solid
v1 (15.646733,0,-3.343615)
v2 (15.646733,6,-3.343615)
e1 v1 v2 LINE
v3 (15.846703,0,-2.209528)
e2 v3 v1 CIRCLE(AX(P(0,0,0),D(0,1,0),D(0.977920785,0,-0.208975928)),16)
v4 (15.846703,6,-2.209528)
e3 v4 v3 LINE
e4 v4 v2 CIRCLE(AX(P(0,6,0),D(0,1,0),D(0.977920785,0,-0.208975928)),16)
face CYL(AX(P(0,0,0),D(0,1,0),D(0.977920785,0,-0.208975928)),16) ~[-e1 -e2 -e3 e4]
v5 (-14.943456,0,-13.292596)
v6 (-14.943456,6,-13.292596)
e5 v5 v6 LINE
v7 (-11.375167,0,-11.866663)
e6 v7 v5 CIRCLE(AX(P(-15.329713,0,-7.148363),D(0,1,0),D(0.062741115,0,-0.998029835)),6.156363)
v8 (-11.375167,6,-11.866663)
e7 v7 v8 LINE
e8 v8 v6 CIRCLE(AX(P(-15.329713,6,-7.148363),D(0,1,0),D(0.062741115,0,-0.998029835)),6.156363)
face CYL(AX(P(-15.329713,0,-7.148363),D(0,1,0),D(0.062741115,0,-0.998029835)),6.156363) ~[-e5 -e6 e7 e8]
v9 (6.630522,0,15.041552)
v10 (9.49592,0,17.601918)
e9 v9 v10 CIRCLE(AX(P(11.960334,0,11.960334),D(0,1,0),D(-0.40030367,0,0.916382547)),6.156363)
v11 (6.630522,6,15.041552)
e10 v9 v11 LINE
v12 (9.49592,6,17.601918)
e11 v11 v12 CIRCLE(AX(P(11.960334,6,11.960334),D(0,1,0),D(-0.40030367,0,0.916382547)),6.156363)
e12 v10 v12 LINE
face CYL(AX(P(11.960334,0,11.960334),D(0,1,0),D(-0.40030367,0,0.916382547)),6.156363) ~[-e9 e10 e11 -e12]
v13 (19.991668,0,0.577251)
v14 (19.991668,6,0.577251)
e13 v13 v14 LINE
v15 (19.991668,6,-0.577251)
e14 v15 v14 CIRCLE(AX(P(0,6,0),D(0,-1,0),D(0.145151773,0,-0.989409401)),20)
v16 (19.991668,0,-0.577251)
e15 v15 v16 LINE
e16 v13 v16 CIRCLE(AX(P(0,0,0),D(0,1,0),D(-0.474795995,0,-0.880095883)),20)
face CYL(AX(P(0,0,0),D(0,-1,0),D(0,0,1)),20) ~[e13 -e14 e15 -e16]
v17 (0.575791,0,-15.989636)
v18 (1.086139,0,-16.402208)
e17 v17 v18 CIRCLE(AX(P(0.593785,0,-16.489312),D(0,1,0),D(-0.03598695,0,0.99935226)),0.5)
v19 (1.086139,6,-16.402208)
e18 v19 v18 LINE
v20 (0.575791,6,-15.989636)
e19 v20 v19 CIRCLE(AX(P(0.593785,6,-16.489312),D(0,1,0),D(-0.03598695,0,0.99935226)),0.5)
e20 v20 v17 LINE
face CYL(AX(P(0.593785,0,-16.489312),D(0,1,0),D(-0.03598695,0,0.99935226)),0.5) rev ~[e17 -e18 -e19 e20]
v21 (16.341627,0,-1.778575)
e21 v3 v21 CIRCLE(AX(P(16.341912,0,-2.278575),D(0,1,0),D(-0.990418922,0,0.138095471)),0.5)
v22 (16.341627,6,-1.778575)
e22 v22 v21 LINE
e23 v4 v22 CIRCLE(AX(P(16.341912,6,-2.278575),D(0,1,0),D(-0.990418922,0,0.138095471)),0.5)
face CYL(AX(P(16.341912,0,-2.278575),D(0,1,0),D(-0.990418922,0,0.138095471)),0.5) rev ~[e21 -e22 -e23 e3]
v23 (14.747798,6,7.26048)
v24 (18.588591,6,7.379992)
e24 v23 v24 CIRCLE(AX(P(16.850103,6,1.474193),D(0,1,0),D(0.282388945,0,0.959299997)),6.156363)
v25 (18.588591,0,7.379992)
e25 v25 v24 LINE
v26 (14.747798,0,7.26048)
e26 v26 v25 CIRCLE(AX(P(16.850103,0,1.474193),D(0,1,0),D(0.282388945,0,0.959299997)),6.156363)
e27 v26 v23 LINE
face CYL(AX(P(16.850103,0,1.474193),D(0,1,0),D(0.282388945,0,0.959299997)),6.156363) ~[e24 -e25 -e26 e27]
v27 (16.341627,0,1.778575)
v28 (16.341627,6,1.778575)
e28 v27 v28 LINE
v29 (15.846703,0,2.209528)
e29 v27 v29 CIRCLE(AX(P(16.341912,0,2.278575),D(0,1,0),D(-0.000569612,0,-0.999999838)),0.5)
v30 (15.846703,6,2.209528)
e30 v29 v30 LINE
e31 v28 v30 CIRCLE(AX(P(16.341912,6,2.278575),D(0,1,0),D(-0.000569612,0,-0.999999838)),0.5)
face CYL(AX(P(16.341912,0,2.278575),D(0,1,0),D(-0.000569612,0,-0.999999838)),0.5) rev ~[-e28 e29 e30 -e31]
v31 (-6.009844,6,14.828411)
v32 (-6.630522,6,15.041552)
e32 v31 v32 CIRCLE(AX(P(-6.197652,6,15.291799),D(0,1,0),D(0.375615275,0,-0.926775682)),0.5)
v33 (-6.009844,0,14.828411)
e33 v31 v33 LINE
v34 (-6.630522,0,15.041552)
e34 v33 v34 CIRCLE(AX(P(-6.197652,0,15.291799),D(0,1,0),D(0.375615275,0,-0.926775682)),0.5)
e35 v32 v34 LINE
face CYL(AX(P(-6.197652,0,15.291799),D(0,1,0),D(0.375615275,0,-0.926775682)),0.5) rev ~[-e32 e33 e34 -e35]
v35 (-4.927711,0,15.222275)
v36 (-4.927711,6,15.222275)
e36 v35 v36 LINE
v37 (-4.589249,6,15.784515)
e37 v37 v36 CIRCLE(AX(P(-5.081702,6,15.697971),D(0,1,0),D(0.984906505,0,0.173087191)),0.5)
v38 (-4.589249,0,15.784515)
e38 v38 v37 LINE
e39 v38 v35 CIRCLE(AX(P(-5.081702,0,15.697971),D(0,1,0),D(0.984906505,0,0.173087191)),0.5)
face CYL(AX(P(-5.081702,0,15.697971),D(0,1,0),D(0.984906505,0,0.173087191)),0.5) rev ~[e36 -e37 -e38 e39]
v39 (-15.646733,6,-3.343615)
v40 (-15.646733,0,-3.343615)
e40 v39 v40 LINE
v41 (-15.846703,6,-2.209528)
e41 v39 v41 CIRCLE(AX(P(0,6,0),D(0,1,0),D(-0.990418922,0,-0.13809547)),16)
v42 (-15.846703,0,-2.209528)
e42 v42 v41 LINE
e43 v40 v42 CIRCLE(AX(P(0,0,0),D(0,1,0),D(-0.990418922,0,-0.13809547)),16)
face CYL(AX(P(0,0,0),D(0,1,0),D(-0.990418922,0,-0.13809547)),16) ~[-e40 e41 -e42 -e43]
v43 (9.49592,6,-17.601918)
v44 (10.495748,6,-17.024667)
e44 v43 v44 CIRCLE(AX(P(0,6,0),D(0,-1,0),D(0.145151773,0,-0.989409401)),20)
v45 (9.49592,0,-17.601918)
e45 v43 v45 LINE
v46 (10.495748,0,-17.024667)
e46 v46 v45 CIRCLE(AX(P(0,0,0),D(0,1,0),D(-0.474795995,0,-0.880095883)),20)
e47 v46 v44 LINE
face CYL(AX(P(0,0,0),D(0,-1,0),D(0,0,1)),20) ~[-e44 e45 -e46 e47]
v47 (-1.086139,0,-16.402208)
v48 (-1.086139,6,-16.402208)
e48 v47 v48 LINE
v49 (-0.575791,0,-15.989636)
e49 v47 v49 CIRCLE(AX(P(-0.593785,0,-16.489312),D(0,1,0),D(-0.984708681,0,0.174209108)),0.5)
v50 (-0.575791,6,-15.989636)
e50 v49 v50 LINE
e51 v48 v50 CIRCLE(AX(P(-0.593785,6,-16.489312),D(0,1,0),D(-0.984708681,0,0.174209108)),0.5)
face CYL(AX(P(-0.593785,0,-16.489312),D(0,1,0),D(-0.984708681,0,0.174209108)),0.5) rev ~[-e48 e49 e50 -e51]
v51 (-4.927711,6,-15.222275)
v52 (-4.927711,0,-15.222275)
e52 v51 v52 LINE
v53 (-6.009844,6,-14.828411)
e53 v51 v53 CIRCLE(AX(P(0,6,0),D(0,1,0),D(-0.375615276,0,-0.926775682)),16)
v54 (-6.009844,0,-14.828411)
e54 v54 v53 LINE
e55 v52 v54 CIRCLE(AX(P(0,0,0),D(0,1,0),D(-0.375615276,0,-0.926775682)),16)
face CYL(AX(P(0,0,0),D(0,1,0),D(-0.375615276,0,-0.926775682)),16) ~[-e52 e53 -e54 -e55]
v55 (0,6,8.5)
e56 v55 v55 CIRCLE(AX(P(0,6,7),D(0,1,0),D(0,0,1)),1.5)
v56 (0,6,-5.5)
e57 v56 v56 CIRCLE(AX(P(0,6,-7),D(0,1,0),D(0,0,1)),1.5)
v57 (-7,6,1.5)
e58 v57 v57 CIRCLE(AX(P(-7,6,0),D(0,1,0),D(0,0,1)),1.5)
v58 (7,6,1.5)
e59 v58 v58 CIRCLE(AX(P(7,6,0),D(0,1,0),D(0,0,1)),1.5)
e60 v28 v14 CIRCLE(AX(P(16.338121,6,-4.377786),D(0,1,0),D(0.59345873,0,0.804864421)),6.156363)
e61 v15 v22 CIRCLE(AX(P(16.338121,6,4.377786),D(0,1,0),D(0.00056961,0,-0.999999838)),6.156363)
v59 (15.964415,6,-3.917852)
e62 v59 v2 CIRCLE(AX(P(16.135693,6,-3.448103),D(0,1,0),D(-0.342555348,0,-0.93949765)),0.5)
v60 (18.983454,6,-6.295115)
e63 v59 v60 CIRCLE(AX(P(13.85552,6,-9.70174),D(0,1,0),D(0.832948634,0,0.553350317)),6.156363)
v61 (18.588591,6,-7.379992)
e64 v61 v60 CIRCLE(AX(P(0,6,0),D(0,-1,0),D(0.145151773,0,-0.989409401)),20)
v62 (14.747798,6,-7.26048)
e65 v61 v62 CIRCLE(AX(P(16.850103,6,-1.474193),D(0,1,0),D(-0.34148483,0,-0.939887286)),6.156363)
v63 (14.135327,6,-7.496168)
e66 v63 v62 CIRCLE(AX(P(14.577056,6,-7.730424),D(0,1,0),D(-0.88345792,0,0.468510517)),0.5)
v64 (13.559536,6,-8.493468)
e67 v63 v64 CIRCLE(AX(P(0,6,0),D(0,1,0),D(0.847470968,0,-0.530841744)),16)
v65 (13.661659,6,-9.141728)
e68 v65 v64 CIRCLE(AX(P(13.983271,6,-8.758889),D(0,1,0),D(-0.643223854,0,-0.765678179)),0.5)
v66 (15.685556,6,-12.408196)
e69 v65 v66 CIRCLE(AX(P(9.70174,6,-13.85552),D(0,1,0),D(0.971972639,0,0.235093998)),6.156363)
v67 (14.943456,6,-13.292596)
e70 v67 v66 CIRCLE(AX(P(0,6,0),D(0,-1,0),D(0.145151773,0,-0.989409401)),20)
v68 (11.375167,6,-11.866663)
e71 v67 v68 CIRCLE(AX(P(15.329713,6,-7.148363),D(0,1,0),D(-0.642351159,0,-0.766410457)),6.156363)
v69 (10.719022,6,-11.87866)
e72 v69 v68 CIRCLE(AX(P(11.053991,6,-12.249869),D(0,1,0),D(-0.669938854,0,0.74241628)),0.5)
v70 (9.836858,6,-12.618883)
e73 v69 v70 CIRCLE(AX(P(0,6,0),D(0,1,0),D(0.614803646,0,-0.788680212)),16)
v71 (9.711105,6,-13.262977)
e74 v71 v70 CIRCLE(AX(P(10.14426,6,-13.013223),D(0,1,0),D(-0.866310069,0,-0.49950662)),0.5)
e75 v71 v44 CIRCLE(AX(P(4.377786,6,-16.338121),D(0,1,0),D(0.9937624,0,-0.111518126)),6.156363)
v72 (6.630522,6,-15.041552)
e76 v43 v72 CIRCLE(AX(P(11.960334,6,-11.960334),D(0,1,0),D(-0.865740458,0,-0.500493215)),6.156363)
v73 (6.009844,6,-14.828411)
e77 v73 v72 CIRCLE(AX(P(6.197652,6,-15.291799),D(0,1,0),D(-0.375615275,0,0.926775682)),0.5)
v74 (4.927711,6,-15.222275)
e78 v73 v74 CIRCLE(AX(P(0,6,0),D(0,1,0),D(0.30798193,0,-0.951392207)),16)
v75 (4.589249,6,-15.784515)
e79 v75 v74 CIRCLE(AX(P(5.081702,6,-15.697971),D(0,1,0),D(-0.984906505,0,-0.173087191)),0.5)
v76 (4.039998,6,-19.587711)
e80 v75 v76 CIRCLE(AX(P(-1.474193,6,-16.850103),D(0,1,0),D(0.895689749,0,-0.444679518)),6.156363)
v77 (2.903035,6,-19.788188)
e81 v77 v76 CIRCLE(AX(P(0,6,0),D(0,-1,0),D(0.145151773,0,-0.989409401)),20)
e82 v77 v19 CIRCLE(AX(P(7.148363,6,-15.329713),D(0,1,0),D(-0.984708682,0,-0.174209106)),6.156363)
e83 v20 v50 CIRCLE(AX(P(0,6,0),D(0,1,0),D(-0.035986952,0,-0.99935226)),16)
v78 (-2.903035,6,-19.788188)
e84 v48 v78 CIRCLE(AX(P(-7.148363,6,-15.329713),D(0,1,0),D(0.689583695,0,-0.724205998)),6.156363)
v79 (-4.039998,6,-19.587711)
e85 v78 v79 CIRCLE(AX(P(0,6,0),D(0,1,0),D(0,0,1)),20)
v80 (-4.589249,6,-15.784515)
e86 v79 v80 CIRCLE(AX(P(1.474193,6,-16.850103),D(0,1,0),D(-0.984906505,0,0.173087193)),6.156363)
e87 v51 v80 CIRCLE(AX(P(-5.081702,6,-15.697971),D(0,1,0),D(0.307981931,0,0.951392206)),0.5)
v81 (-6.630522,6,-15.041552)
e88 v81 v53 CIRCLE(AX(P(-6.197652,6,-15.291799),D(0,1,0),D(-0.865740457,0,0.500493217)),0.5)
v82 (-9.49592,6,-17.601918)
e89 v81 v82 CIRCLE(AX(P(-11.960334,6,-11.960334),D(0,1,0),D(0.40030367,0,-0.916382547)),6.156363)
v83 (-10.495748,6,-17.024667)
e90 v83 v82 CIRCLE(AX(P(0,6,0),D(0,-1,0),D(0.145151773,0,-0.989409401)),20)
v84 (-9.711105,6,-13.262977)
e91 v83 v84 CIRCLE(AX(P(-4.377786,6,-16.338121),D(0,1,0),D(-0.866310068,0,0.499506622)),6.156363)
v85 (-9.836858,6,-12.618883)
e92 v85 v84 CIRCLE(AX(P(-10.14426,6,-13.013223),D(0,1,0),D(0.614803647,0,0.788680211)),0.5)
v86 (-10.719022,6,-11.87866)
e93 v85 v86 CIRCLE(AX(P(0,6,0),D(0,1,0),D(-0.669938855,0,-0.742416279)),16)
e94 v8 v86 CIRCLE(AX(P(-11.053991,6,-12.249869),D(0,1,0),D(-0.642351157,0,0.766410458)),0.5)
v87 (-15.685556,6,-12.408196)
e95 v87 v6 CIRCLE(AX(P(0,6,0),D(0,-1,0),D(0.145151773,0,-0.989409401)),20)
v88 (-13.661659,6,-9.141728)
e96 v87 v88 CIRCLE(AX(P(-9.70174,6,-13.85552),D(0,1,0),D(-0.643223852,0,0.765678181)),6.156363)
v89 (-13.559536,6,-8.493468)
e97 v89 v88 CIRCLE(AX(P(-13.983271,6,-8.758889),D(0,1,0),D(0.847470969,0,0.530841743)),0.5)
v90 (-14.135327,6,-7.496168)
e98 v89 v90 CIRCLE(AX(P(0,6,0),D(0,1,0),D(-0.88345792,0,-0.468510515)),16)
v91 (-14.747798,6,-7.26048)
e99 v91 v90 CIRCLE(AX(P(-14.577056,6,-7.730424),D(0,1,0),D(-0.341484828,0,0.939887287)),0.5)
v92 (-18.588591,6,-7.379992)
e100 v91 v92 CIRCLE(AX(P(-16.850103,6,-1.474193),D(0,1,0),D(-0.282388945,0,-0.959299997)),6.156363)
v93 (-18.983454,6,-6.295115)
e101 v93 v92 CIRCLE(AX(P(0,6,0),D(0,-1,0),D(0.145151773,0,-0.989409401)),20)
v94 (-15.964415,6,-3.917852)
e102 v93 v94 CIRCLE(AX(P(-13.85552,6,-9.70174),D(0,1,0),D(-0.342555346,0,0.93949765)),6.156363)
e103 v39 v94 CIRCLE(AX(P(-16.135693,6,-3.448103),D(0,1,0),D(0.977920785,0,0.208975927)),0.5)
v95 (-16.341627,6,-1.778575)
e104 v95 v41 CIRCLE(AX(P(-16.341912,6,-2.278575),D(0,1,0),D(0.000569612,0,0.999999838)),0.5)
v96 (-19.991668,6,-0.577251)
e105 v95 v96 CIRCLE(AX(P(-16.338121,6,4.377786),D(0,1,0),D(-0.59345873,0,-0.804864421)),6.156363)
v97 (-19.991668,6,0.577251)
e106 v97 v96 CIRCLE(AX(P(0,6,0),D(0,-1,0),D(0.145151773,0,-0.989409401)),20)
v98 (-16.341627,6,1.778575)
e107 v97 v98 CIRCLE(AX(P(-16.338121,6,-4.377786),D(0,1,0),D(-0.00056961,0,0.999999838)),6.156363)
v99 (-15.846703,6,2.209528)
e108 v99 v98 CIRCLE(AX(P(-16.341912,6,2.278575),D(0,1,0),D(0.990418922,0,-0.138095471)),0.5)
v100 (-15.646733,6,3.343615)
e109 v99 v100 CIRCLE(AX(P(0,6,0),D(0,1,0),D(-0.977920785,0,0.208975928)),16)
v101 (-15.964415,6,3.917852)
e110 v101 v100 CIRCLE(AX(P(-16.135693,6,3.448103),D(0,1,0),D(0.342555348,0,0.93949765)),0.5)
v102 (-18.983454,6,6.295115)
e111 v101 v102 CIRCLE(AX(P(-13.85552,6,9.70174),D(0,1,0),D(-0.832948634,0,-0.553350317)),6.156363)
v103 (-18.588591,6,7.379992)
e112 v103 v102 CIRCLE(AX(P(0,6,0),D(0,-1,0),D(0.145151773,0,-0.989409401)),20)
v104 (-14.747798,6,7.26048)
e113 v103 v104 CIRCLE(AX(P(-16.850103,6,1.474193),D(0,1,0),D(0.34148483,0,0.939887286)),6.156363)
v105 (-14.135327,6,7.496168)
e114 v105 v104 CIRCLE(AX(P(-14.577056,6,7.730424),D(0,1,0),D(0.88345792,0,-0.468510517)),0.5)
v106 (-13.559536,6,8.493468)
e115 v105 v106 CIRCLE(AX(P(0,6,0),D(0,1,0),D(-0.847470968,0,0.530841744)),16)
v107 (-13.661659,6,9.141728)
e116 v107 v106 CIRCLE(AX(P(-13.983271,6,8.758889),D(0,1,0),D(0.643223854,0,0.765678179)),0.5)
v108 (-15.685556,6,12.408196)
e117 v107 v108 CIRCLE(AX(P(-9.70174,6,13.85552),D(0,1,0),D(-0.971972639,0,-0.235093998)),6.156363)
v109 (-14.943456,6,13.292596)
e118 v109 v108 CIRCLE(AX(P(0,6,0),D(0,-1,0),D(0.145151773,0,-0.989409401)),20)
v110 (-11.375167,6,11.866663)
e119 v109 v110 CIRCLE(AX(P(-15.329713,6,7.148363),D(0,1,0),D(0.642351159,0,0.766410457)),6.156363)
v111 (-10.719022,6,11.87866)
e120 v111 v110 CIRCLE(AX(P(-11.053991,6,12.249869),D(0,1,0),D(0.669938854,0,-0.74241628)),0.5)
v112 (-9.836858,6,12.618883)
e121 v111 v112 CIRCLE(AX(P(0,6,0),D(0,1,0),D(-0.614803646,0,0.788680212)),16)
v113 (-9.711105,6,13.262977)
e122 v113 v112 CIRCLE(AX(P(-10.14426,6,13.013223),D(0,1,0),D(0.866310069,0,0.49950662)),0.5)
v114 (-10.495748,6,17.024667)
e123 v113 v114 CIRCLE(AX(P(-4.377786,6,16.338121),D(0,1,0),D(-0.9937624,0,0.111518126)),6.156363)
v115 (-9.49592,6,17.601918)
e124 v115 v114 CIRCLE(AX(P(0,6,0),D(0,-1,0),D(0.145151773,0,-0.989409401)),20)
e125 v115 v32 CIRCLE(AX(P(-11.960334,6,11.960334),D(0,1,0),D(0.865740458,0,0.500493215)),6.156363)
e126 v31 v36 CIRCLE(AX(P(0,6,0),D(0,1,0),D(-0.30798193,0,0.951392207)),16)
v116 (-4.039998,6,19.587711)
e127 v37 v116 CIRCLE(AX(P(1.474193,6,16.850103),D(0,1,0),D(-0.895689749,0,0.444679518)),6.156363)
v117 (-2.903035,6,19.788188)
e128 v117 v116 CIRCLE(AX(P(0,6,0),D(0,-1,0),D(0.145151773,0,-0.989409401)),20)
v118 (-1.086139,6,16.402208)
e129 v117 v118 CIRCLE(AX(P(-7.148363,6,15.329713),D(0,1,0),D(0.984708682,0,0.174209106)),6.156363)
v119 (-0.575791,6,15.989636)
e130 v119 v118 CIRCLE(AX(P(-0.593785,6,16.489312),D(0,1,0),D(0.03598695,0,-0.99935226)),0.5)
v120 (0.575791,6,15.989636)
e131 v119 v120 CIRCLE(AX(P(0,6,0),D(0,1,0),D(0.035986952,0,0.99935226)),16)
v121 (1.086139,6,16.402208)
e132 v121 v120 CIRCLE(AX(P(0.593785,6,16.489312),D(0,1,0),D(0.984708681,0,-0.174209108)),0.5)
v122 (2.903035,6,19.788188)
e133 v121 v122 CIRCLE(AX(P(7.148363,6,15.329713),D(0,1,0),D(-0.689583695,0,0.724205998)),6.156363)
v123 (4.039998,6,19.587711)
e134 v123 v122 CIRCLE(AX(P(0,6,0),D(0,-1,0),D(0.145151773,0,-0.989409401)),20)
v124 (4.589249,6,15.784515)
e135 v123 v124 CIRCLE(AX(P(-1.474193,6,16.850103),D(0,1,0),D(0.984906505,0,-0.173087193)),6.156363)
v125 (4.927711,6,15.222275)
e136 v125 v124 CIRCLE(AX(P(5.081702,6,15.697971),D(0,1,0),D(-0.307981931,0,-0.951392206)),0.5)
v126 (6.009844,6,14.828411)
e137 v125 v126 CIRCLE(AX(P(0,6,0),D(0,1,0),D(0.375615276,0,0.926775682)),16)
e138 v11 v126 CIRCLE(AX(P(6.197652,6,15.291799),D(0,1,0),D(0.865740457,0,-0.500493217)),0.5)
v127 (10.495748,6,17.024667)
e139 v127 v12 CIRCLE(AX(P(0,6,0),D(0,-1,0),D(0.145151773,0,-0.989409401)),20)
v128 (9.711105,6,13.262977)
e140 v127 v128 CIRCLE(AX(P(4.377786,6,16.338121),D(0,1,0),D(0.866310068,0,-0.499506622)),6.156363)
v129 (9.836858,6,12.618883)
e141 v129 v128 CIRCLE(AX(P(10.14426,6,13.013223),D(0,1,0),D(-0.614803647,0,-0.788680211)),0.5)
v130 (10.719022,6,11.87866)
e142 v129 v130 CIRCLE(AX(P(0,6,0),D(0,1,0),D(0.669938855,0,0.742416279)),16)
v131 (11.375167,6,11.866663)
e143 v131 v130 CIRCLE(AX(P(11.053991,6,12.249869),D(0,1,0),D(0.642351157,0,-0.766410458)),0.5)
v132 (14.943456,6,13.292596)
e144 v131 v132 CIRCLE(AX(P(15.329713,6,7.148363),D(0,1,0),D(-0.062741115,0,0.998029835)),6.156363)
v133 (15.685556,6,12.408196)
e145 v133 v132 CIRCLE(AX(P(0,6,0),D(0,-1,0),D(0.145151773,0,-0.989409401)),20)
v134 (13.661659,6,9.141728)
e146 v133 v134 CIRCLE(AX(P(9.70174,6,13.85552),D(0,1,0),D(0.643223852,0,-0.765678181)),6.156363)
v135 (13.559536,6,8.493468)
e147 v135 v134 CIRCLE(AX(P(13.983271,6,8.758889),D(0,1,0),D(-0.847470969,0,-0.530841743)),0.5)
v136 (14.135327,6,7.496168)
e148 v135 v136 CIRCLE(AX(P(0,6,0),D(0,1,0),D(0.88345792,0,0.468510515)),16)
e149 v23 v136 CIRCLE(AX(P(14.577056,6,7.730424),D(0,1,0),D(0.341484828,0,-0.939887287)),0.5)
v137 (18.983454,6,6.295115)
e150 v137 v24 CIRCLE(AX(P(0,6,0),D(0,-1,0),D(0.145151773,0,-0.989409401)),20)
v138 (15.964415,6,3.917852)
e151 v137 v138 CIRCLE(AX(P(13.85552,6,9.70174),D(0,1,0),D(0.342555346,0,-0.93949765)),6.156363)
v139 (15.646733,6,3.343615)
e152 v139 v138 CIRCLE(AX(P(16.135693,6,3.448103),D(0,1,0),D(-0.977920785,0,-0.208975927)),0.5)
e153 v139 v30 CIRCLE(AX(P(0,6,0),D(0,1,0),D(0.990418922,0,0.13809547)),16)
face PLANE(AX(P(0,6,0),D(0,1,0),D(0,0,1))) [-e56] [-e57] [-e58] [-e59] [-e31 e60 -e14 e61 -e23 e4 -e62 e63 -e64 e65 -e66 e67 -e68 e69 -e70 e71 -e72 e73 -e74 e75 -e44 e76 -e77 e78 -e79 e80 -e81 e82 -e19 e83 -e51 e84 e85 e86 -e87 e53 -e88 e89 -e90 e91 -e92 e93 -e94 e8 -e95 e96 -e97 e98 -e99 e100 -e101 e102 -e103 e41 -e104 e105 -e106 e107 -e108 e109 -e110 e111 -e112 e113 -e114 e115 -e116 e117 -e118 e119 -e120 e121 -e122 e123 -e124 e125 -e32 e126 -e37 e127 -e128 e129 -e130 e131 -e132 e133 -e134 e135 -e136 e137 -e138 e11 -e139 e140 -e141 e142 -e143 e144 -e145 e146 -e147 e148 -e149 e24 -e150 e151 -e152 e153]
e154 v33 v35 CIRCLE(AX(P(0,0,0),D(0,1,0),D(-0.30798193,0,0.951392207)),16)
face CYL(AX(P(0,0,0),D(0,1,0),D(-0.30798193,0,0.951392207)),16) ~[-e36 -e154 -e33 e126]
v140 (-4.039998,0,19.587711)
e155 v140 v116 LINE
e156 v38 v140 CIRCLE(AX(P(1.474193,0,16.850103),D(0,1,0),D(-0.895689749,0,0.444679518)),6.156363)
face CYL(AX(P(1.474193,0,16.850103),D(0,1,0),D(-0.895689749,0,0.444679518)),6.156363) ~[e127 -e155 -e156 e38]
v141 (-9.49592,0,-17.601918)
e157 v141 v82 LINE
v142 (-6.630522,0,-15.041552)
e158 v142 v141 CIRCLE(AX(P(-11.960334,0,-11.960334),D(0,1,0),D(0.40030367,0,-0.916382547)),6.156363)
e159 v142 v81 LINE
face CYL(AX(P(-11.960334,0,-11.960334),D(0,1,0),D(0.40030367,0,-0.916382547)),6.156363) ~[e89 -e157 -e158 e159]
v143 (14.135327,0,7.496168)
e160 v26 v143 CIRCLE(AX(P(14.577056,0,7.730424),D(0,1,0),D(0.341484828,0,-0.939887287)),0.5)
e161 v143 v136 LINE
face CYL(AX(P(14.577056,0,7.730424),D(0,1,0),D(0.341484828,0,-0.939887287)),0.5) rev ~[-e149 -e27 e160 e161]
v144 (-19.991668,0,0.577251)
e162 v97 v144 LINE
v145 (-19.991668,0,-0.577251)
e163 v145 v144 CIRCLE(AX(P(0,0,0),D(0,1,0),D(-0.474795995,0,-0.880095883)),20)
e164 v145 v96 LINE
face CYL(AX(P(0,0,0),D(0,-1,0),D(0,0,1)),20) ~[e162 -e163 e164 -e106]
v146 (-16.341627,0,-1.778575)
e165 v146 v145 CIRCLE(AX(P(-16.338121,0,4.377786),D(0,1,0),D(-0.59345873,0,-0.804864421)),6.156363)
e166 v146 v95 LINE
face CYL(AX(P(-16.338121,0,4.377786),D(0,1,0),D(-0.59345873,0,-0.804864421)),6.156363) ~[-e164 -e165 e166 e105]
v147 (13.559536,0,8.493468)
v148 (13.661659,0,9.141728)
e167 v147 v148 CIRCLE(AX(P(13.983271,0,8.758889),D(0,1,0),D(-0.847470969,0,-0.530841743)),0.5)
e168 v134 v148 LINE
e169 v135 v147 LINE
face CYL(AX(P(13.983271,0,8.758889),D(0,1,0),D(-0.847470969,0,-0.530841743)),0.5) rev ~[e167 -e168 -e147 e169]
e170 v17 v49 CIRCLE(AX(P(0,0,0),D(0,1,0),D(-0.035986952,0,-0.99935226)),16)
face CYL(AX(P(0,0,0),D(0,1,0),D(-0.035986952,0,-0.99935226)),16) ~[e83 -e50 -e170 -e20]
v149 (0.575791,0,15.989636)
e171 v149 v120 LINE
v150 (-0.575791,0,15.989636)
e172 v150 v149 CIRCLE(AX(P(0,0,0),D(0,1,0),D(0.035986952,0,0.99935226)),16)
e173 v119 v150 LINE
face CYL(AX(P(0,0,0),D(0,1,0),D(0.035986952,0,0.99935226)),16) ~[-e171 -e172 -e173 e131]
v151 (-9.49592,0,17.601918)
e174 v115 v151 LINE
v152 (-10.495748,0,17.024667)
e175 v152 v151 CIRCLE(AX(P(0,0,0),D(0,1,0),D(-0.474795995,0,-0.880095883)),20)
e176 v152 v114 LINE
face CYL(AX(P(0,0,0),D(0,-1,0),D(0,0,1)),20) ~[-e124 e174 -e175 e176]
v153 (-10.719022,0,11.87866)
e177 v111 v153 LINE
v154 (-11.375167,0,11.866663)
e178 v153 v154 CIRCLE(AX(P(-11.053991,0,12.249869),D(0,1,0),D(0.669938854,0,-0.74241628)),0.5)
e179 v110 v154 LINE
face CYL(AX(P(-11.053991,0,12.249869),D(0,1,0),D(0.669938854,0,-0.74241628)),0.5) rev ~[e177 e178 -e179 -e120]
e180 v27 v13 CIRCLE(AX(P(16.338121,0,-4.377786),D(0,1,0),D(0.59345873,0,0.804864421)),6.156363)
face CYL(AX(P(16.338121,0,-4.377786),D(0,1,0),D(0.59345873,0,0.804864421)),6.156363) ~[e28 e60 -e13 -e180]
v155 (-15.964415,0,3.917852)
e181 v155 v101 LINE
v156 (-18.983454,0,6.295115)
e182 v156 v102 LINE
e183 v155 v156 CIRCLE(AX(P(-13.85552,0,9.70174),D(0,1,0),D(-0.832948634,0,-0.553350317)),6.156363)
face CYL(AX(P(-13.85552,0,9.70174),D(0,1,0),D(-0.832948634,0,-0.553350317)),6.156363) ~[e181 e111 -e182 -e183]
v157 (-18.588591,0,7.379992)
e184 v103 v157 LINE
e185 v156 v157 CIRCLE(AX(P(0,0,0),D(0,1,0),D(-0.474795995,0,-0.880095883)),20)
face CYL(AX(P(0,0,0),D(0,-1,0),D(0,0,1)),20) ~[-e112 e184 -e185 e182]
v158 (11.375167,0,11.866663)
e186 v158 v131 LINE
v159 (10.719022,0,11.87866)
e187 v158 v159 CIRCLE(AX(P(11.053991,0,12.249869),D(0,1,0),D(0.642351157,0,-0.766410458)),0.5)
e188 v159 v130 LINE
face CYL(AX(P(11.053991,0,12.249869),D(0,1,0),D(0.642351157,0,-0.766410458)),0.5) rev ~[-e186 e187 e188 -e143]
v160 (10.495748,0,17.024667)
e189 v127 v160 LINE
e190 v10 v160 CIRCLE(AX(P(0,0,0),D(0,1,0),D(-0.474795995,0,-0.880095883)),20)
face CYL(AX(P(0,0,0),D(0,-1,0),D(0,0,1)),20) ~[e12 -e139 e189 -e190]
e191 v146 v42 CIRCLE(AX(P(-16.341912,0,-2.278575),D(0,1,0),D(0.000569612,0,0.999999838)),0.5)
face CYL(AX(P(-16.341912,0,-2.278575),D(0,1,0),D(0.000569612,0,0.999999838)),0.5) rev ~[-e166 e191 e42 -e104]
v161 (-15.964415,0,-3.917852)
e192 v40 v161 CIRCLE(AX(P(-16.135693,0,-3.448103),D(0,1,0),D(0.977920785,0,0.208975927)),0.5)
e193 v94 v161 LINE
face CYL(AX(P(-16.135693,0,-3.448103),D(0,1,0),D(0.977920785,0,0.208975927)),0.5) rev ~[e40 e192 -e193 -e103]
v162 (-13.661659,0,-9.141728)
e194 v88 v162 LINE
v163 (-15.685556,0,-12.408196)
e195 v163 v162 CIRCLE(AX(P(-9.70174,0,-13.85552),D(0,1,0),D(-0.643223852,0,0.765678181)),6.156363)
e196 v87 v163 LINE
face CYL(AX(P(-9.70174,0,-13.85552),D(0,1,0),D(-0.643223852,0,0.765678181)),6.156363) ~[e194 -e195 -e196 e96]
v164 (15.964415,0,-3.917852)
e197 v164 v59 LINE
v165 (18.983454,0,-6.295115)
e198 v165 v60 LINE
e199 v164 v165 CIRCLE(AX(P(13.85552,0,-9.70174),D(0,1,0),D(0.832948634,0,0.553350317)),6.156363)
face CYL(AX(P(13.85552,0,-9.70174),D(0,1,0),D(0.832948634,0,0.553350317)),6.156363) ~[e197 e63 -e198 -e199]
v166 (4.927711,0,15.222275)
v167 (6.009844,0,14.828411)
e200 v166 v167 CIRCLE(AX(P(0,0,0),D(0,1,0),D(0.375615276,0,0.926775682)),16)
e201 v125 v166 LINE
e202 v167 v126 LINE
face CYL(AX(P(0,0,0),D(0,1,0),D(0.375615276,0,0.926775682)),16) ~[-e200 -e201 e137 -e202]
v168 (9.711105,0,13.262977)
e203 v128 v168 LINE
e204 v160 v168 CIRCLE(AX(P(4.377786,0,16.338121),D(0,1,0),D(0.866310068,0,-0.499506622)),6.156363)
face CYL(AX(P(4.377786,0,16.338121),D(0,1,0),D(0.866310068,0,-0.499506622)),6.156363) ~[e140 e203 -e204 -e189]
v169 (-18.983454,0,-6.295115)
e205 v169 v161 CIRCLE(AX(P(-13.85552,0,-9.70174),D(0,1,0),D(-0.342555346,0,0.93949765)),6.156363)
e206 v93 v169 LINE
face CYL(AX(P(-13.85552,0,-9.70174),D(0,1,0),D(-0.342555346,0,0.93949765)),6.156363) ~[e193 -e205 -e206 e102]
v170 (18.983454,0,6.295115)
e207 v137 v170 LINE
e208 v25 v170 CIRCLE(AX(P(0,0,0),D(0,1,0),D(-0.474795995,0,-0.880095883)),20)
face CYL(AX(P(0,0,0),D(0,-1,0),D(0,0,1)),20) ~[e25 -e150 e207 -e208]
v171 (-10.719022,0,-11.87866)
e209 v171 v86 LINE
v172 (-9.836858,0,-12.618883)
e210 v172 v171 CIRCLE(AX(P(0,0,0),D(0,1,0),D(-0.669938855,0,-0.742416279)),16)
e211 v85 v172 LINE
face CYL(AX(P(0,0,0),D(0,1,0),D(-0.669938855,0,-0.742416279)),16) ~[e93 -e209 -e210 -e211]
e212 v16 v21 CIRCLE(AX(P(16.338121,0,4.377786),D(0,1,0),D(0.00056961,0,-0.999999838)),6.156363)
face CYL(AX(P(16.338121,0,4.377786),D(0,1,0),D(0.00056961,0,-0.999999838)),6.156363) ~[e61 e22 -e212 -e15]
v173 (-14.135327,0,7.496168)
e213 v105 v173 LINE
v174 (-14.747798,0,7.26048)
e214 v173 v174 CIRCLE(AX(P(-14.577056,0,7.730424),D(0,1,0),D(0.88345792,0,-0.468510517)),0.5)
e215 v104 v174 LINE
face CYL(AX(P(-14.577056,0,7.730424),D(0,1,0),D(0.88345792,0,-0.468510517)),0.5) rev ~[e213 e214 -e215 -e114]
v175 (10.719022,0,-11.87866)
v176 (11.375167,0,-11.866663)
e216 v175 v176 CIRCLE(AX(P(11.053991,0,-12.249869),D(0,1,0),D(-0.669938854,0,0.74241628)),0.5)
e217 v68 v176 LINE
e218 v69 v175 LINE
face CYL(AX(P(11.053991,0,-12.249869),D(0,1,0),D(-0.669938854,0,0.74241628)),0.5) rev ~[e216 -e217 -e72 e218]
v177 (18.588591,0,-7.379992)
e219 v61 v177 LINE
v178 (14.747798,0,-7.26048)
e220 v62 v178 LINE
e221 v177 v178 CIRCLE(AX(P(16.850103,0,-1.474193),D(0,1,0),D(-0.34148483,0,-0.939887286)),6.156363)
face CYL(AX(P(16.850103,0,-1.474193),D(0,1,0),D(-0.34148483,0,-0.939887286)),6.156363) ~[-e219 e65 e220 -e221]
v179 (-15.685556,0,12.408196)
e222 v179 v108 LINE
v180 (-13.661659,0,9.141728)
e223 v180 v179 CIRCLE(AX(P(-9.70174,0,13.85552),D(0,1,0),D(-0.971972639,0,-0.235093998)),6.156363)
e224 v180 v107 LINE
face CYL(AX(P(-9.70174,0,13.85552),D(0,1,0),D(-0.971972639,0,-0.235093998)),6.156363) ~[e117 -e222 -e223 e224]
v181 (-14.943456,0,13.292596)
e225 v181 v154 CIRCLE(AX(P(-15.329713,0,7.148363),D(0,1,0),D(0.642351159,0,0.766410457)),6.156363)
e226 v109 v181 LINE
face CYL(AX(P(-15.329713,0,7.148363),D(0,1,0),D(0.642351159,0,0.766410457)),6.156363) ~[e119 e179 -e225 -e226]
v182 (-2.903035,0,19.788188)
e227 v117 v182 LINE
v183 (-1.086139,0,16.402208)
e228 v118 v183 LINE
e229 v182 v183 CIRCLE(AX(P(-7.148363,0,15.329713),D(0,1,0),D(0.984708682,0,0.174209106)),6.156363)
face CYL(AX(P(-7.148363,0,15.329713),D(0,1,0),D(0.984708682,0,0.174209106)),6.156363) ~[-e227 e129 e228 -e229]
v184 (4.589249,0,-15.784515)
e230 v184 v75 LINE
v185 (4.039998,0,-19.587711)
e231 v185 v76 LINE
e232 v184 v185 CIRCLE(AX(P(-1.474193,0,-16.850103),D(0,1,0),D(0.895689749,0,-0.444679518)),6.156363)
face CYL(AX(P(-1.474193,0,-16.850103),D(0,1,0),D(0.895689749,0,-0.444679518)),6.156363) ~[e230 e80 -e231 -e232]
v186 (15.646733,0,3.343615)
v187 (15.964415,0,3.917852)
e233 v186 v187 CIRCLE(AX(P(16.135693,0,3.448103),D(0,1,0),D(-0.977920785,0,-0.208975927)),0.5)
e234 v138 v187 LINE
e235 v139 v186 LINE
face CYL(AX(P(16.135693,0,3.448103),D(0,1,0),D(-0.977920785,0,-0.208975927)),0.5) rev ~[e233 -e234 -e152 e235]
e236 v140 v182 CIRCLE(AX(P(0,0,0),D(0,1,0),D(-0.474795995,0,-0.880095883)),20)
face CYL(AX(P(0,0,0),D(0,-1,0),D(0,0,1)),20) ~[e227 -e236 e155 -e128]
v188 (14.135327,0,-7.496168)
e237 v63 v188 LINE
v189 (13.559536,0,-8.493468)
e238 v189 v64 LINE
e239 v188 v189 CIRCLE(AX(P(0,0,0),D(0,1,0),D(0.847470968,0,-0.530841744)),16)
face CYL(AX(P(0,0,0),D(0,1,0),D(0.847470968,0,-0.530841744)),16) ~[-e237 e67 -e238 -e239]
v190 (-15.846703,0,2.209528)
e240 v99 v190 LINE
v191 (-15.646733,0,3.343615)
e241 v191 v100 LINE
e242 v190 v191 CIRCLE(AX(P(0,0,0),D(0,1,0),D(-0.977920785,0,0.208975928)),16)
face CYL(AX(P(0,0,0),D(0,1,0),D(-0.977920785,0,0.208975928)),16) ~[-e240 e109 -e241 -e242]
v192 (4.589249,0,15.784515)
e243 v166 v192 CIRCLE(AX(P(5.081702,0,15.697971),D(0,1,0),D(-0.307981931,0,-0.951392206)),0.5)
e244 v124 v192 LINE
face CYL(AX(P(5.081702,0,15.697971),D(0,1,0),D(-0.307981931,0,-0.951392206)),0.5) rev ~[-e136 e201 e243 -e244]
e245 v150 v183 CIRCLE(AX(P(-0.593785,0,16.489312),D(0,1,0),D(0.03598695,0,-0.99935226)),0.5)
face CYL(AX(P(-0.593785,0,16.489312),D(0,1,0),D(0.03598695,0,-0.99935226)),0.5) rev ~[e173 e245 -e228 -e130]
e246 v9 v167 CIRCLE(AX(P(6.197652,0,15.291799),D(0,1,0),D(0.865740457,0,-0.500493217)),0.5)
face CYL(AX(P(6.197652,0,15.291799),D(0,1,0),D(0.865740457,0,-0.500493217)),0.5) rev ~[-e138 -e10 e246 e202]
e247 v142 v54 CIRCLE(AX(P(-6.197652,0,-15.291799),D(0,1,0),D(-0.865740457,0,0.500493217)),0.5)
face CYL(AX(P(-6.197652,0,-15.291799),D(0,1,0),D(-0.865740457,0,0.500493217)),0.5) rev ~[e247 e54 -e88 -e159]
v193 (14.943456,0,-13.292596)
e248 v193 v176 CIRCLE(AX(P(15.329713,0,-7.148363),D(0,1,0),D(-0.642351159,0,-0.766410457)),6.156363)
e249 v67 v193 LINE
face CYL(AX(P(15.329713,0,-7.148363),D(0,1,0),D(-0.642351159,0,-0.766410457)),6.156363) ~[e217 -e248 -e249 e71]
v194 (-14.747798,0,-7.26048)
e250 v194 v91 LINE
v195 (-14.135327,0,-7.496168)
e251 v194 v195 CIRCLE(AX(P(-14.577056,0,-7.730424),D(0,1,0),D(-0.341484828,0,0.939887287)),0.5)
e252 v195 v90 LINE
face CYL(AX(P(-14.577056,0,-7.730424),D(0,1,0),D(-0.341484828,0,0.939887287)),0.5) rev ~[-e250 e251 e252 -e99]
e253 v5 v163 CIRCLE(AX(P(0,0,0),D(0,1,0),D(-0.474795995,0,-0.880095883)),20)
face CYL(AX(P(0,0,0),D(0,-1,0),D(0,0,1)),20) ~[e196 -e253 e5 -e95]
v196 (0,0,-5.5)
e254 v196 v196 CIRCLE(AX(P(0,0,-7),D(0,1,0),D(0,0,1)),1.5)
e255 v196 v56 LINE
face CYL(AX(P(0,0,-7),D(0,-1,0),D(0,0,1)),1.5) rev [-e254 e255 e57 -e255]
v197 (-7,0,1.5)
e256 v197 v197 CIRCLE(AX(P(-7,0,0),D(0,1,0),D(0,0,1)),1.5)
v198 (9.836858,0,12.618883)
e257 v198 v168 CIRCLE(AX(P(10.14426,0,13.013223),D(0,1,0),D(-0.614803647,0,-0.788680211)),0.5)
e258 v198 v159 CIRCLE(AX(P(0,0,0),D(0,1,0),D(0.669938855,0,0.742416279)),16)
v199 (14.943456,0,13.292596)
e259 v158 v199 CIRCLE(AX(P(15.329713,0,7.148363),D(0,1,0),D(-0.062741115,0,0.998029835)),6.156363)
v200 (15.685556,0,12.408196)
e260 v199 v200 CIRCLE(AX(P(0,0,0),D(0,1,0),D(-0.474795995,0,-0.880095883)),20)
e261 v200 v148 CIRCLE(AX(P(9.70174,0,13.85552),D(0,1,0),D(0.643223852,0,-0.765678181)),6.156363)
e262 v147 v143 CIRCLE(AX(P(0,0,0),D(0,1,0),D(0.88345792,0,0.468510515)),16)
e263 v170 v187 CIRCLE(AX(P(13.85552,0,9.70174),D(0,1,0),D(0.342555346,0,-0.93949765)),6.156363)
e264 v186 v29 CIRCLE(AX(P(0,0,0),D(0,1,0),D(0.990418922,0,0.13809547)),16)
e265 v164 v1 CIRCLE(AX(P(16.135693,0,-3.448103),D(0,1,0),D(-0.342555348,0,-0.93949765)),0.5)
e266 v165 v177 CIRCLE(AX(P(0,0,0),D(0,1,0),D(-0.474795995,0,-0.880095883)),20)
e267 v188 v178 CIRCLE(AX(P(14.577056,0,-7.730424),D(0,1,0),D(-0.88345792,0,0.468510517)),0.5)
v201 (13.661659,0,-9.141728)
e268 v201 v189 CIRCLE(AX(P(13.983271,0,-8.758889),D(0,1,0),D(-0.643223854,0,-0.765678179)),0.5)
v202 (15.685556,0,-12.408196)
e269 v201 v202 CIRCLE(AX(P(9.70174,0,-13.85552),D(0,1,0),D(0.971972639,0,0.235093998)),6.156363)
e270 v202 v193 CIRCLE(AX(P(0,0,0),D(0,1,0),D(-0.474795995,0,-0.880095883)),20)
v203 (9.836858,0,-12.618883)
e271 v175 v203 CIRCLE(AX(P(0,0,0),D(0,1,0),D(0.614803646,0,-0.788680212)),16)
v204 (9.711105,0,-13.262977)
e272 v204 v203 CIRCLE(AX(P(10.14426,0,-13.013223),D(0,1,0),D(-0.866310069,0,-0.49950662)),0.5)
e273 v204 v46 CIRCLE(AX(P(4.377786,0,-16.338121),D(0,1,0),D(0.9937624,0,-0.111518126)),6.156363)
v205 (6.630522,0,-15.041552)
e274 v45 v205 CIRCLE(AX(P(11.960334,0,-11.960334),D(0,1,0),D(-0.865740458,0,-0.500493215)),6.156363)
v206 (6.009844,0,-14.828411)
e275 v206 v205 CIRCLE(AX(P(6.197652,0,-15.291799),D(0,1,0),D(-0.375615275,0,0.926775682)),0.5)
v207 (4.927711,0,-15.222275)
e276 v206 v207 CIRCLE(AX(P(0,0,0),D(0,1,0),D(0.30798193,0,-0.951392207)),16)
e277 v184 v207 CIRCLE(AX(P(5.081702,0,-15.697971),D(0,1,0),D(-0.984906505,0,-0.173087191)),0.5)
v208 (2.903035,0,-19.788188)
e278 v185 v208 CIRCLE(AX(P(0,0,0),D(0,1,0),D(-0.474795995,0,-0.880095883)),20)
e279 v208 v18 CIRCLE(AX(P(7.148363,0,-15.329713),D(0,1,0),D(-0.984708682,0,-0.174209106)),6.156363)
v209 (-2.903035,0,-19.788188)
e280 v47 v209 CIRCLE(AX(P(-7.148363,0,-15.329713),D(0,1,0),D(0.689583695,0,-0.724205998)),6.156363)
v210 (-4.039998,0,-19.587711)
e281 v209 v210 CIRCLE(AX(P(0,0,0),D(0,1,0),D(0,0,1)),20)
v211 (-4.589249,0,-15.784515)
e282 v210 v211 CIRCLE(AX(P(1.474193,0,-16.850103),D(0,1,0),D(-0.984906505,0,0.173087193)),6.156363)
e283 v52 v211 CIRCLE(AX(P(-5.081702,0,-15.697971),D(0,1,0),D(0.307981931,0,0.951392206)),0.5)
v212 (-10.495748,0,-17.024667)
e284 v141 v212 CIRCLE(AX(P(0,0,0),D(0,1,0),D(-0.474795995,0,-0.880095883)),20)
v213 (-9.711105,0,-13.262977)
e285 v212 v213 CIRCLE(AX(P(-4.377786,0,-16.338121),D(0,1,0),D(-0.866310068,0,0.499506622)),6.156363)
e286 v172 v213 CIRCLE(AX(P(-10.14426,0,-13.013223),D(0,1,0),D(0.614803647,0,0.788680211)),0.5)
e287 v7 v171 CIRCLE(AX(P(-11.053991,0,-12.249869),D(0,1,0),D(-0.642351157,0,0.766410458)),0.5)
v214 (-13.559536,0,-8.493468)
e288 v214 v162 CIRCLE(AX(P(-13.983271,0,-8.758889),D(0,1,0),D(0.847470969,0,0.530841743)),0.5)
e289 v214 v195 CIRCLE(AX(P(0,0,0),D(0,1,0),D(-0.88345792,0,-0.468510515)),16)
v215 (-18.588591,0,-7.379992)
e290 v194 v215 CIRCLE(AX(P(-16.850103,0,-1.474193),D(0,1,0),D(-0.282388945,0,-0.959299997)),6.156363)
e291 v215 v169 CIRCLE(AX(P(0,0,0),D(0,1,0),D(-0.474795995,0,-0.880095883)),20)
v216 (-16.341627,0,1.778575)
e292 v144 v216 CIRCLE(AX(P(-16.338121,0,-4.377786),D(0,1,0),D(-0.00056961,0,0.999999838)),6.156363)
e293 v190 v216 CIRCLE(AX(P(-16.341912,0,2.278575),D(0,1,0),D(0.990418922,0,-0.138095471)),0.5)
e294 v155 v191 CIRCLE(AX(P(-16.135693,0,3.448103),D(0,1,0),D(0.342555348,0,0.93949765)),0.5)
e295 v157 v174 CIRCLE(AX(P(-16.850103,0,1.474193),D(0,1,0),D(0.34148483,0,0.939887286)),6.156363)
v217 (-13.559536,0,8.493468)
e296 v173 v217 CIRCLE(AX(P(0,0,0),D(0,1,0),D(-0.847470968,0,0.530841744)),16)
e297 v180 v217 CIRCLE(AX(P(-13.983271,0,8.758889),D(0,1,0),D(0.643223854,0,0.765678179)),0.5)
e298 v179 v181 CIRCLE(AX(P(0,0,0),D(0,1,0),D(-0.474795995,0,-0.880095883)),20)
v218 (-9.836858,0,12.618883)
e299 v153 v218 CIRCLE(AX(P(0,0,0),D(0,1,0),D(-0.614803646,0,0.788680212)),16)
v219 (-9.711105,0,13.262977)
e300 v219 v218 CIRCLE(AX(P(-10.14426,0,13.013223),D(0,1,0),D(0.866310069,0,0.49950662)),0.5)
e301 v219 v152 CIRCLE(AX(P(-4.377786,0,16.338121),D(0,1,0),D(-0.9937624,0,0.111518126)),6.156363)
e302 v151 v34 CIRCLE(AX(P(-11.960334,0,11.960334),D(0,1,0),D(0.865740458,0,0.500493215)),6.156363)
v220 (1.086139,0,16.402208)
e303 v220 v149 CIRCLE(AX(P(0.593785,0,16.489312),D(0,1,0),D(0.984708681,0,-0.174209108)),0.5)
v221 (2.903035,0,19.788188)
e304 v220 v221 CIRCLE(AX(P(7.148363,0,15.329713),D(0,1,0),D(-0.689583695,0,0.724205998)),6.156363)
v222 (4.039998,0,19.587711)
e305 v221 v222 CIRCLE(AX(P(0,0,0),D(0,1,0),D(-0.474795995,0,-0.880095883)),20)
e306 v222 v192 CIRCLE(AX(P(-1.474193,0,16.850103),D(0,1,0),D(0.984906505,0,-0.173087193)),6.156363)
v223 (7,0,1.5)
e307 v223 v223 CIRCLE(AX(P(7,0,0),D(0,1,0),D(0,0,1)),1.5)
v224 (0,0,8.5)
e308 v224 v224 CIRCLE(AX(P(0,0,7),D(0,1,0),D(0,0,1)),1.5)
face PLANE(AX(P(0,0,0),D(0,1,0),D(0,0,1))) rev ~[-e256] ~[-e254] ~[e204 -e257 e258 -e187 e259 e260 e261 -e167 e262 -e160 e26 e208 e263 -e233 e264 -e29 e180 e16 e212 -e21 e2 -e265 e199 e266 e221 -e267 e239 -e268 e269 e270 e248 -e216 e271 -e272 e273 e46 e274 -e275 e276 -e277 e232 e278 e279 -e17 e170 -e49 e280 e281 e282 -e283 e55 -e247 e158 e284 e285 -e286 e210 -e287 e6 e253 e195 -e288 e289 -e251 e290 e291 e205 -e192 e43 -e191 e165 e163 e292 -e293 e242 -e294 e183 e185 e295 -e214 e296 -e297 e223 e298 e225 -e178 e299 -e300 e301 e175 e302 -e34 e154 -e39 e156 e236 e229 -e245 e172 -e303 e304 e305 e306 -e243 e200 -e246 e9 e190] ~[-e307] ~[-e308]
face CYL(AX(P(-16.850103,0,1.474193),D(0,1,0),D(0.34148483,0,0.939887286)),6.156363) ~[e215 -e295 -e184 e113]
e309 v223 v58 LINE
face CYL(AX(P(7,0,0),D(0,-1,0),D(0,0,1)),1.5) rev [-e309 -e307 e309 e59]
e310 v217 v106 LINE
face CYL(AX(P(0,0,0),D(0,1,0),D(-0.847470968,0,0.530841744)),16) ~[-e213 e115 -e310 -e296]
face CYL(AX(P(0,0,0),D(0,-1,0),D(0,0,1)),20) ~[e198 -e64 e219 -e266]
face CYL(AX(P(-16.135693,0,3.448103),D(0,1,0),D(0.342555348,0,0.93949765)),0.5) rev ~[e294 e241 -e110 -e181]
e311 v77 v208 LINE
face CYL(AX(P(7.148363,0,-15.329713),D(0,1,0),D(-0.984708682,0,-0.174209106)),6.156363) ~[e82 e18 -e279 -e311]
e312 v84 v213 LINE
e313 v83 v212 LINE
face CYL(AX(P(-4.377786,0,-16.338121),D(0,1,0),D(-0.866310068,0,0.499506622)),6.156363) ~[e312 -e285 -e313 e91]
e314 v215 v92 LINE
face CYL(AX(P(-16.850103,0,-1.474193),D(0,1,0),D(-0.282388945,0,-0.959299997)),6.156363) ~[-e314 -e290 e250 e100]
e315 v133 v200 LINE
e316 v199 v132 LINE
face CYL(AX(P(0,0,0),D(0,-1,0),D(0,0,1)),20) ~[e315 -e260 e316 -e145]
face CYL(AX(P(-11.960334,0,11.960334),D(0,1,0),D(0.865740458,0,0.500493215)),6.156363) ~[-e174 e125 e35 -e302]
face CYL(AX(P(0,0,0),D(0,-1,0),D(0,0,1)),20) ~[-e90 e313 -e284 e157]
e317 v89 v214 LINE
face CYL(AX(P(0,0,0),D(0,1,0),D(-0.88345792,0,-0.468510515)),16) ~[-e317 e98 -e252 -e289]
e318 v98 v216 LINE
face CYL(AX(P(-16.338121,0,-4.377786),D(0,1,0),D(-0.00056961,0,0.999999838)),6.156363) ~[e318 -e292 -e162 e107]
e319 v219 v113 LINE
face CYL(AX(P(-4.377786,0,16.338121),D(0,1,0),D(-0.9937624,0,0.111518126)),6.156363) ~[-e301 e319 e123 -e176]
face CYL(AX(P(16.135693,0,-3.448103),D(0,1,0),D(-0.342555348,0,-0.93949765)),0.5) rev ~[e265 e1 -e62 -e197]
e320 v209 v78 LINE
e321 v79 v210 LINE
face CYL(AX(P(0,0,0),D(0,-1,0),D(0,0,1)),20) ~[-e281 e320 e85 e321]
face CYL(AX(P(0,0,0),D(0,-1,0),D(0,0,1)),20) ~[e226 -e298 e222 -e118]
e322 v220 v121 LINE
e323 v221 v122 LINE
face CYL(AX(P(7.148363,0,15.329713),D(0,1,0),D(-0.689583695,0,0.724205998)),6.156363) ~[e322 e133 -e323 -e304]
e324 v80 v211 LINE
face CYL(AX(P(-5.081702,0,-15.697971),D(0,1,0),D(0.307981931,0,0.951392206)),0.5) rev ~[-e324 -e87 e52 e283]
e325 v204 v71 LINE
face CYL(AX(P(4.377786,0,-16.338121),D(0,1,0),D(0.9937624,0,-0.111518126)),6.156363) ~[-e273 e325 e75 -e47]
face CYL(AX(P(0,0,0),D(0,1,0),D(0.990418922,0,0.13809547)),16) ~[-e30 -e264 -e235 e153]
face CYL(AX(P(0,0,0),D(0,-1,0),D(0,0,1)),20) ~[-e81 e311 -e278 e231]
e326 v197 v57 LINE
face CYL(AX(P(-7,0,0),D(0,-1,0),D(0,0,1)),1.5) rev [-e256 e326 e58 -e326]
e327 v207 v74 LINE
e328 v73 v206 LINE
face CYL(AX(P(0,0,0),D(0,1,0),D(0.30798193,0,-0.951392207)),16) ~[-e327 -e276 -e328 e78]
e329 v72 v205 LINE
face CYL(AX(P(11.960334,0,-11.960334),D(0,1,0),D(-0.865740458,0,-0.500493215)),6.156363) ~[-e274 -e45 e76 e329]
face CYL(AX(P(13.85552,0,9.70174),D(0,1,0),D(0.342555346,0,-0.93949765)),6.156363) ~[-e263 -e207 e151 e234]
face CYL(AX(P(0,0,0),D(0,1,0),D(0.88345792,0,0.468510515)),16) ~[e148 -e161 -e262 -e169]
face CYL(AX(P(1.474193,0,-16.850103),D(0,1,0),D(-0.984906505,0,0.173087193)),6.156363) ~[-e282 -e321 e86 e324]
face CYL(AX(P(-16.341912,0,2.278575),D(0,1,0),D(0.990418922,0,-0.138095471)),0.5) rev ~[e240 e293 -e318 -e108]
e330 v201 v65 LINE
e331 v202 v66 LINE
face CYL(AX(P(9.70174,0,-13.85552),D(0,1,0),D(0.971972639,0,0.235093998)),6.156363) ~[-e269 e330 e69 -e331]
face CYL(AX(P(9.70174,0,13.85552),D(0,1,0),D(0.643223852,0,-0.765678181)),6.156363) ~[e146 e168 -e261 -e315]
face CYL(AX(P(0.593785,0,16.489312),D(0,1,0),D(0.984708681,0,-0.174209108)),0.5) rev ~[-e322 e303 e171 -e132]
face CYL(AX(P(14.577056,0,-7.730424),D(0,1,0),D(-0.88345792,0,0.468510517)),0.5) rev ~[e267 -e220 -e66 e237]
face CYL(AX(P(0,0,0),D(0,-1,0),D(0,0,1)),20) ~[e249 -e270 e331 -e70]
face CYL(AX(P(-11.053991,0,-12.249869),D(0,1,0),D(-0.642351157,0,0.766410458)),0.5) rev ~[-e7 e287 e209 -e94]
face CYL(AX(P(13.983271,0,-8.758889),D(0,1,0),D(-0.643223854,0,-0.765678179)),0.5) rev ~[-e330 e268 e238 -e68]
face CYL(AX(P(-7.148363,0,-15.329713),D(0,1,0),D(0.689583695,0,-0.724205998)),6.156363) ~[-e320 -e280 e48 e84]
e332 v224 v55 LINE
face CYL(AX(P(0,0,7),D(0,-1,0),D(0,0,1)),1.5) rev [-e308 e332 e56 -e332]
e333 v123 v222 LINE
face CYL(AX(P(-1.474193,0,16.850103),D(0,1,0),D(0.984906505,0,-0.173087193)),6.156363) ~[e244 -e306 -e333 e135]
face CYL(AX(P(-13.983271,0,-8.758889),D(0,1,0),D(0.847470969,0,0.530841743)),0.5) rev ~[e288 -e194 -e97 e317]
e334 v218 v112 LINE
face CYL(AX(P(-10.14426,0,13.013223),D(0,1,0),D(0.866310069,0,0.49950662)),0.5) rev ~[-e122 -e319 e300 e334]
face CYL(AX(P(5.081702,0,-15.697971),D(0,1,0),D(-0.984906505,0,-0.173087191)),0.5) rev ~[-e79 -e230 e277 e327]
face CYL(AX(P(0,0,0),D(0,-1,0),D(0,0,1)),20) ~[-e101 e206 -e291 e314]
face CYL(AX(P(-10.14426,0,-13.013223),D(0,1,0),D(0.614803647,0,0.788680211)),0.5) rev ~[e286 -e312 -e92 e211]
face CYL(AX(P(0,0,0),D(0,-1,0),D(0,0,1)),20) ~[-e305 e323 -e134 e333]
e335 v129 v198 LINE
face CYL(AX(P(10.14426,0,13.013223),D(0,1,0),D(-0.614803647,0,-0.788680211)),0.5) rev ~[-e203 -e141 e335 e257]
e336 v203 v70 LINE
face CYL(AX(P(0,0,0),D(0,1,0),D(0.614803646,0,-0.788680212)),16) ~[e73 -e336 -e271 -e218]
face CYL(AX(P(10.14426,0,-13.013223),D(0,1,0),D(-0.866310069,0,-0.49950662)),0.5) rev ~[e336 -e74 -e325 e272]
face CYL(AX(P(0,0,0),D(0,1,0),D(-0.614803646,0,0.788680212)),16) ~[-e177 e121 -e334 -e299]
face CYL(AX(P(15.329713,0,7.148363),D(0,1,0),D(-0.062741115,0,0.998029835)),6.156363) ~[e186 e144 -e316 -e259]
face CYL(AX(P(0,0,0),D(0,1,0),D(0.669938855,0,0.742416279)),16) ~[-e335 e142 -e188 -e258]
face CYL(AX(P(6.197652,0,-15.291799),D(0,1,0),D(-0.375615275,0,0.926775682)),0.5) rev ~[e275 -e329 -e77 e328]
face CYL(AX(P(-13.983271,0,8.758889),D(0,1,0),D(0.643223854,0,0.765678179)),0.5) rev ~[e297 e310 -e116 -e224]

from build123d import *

# Parameters (mm, degrees)
SKETCH_1_R               = 20
SKETCH_1_R_2             = 1.5
EXTRUDE_1_DEPTH          = 6
CUT_EXTRUDE_1_DEPTH      = 29.91366459
PATTERN_CIRCULAR_1_COUNT = 18


with BuildPart() as part:
    # 草图1 → 凸台-拉伸1 (new body)
    with BuildSketch(Plane(origin=(0, 0, 0), x_dir=(1, 0, 0), z_dir=(0, 1, 0))):
        with Locations(Location((0, 0, 0), (0, 0, 270))):
            Circle(SKETCH_1_R)
        with Locations(Location((0, 7, 0), (0, 0, 270))):
            Circle(SKETCH_1_R_2, mode=Mode.SUBTRACT)
        with Locations(Location((7, 0, 0), (0, 0, 270))):
            Circle(SKETCH_1_R_2, mode=Mode.SUBTRACT)
        with Locations(Location((0, -7, 0), (0, 0, 270))):
            Circle(SKETCH_1_R_2, mode=Mode.SUBTRACT)
        with Locations(Location((-7, 0, 0), (0, 0, 270))):
            Circle(SKETCH_1_R_2, mode=Mode.SUBTRACT)
    extrude(amount=EXTRUDE_1_DEPTH)

    # 草图2 → 切除-拉伸1 (cut, symmetric)
    with BuildSketch(Plane(origin=(0, 0, 0), x_dir=(1, 0, 0), z_dir=(0, 1, 0))):
        with BuildLine():
            ThreePointArc((2.90303546, 19.78818802), (0, 20), (-2.90303546, 19.78818802))
            ThreePointArc((-2.90303546, 19.78818802), (-1.72363994, 18.240586555), (-1.086139037, 16.402207735))
            ThreePointArc((-1.086139037, 16.402207735), (-0.908122705, 16.100478627), (-0.57579122, 15.989636158))
            ThreePointArc((-0.57579122, 15.989636158), (0, 16), (0.57579122, 15.989636158))
            ThreePointArc((0.57579122, 15.989636158), (0.908122705, 16.100478627), (1.086139037, 16.402207735))
            ThreePointArc((1.086139037, 16.402207735), (1.72363994, 18.240586555), (2.90303546, 19.78818802))
        make_face()
    cut_extrude_1 = extrude(amount=CUT_EXTRUDE_1_DEPTH, both=True, mode=Mode.SUBTRACT)

    # 阵列(圆周)1: 切除-拉伸1 ×18 about axis
    pattern_circular_1_axis = Axis((0, 0, 0), (0, 1, 0))
    for i in range(1, PATTERN_CIRCULAR_1_COUNT):
        add(cut_extrude_1.rotate(pattern_circular_1_axis, i * 360 / PATTERN_CIRCULAR_1_COUNT), mode=Mode.SUBTRACT)


solid = part.part
